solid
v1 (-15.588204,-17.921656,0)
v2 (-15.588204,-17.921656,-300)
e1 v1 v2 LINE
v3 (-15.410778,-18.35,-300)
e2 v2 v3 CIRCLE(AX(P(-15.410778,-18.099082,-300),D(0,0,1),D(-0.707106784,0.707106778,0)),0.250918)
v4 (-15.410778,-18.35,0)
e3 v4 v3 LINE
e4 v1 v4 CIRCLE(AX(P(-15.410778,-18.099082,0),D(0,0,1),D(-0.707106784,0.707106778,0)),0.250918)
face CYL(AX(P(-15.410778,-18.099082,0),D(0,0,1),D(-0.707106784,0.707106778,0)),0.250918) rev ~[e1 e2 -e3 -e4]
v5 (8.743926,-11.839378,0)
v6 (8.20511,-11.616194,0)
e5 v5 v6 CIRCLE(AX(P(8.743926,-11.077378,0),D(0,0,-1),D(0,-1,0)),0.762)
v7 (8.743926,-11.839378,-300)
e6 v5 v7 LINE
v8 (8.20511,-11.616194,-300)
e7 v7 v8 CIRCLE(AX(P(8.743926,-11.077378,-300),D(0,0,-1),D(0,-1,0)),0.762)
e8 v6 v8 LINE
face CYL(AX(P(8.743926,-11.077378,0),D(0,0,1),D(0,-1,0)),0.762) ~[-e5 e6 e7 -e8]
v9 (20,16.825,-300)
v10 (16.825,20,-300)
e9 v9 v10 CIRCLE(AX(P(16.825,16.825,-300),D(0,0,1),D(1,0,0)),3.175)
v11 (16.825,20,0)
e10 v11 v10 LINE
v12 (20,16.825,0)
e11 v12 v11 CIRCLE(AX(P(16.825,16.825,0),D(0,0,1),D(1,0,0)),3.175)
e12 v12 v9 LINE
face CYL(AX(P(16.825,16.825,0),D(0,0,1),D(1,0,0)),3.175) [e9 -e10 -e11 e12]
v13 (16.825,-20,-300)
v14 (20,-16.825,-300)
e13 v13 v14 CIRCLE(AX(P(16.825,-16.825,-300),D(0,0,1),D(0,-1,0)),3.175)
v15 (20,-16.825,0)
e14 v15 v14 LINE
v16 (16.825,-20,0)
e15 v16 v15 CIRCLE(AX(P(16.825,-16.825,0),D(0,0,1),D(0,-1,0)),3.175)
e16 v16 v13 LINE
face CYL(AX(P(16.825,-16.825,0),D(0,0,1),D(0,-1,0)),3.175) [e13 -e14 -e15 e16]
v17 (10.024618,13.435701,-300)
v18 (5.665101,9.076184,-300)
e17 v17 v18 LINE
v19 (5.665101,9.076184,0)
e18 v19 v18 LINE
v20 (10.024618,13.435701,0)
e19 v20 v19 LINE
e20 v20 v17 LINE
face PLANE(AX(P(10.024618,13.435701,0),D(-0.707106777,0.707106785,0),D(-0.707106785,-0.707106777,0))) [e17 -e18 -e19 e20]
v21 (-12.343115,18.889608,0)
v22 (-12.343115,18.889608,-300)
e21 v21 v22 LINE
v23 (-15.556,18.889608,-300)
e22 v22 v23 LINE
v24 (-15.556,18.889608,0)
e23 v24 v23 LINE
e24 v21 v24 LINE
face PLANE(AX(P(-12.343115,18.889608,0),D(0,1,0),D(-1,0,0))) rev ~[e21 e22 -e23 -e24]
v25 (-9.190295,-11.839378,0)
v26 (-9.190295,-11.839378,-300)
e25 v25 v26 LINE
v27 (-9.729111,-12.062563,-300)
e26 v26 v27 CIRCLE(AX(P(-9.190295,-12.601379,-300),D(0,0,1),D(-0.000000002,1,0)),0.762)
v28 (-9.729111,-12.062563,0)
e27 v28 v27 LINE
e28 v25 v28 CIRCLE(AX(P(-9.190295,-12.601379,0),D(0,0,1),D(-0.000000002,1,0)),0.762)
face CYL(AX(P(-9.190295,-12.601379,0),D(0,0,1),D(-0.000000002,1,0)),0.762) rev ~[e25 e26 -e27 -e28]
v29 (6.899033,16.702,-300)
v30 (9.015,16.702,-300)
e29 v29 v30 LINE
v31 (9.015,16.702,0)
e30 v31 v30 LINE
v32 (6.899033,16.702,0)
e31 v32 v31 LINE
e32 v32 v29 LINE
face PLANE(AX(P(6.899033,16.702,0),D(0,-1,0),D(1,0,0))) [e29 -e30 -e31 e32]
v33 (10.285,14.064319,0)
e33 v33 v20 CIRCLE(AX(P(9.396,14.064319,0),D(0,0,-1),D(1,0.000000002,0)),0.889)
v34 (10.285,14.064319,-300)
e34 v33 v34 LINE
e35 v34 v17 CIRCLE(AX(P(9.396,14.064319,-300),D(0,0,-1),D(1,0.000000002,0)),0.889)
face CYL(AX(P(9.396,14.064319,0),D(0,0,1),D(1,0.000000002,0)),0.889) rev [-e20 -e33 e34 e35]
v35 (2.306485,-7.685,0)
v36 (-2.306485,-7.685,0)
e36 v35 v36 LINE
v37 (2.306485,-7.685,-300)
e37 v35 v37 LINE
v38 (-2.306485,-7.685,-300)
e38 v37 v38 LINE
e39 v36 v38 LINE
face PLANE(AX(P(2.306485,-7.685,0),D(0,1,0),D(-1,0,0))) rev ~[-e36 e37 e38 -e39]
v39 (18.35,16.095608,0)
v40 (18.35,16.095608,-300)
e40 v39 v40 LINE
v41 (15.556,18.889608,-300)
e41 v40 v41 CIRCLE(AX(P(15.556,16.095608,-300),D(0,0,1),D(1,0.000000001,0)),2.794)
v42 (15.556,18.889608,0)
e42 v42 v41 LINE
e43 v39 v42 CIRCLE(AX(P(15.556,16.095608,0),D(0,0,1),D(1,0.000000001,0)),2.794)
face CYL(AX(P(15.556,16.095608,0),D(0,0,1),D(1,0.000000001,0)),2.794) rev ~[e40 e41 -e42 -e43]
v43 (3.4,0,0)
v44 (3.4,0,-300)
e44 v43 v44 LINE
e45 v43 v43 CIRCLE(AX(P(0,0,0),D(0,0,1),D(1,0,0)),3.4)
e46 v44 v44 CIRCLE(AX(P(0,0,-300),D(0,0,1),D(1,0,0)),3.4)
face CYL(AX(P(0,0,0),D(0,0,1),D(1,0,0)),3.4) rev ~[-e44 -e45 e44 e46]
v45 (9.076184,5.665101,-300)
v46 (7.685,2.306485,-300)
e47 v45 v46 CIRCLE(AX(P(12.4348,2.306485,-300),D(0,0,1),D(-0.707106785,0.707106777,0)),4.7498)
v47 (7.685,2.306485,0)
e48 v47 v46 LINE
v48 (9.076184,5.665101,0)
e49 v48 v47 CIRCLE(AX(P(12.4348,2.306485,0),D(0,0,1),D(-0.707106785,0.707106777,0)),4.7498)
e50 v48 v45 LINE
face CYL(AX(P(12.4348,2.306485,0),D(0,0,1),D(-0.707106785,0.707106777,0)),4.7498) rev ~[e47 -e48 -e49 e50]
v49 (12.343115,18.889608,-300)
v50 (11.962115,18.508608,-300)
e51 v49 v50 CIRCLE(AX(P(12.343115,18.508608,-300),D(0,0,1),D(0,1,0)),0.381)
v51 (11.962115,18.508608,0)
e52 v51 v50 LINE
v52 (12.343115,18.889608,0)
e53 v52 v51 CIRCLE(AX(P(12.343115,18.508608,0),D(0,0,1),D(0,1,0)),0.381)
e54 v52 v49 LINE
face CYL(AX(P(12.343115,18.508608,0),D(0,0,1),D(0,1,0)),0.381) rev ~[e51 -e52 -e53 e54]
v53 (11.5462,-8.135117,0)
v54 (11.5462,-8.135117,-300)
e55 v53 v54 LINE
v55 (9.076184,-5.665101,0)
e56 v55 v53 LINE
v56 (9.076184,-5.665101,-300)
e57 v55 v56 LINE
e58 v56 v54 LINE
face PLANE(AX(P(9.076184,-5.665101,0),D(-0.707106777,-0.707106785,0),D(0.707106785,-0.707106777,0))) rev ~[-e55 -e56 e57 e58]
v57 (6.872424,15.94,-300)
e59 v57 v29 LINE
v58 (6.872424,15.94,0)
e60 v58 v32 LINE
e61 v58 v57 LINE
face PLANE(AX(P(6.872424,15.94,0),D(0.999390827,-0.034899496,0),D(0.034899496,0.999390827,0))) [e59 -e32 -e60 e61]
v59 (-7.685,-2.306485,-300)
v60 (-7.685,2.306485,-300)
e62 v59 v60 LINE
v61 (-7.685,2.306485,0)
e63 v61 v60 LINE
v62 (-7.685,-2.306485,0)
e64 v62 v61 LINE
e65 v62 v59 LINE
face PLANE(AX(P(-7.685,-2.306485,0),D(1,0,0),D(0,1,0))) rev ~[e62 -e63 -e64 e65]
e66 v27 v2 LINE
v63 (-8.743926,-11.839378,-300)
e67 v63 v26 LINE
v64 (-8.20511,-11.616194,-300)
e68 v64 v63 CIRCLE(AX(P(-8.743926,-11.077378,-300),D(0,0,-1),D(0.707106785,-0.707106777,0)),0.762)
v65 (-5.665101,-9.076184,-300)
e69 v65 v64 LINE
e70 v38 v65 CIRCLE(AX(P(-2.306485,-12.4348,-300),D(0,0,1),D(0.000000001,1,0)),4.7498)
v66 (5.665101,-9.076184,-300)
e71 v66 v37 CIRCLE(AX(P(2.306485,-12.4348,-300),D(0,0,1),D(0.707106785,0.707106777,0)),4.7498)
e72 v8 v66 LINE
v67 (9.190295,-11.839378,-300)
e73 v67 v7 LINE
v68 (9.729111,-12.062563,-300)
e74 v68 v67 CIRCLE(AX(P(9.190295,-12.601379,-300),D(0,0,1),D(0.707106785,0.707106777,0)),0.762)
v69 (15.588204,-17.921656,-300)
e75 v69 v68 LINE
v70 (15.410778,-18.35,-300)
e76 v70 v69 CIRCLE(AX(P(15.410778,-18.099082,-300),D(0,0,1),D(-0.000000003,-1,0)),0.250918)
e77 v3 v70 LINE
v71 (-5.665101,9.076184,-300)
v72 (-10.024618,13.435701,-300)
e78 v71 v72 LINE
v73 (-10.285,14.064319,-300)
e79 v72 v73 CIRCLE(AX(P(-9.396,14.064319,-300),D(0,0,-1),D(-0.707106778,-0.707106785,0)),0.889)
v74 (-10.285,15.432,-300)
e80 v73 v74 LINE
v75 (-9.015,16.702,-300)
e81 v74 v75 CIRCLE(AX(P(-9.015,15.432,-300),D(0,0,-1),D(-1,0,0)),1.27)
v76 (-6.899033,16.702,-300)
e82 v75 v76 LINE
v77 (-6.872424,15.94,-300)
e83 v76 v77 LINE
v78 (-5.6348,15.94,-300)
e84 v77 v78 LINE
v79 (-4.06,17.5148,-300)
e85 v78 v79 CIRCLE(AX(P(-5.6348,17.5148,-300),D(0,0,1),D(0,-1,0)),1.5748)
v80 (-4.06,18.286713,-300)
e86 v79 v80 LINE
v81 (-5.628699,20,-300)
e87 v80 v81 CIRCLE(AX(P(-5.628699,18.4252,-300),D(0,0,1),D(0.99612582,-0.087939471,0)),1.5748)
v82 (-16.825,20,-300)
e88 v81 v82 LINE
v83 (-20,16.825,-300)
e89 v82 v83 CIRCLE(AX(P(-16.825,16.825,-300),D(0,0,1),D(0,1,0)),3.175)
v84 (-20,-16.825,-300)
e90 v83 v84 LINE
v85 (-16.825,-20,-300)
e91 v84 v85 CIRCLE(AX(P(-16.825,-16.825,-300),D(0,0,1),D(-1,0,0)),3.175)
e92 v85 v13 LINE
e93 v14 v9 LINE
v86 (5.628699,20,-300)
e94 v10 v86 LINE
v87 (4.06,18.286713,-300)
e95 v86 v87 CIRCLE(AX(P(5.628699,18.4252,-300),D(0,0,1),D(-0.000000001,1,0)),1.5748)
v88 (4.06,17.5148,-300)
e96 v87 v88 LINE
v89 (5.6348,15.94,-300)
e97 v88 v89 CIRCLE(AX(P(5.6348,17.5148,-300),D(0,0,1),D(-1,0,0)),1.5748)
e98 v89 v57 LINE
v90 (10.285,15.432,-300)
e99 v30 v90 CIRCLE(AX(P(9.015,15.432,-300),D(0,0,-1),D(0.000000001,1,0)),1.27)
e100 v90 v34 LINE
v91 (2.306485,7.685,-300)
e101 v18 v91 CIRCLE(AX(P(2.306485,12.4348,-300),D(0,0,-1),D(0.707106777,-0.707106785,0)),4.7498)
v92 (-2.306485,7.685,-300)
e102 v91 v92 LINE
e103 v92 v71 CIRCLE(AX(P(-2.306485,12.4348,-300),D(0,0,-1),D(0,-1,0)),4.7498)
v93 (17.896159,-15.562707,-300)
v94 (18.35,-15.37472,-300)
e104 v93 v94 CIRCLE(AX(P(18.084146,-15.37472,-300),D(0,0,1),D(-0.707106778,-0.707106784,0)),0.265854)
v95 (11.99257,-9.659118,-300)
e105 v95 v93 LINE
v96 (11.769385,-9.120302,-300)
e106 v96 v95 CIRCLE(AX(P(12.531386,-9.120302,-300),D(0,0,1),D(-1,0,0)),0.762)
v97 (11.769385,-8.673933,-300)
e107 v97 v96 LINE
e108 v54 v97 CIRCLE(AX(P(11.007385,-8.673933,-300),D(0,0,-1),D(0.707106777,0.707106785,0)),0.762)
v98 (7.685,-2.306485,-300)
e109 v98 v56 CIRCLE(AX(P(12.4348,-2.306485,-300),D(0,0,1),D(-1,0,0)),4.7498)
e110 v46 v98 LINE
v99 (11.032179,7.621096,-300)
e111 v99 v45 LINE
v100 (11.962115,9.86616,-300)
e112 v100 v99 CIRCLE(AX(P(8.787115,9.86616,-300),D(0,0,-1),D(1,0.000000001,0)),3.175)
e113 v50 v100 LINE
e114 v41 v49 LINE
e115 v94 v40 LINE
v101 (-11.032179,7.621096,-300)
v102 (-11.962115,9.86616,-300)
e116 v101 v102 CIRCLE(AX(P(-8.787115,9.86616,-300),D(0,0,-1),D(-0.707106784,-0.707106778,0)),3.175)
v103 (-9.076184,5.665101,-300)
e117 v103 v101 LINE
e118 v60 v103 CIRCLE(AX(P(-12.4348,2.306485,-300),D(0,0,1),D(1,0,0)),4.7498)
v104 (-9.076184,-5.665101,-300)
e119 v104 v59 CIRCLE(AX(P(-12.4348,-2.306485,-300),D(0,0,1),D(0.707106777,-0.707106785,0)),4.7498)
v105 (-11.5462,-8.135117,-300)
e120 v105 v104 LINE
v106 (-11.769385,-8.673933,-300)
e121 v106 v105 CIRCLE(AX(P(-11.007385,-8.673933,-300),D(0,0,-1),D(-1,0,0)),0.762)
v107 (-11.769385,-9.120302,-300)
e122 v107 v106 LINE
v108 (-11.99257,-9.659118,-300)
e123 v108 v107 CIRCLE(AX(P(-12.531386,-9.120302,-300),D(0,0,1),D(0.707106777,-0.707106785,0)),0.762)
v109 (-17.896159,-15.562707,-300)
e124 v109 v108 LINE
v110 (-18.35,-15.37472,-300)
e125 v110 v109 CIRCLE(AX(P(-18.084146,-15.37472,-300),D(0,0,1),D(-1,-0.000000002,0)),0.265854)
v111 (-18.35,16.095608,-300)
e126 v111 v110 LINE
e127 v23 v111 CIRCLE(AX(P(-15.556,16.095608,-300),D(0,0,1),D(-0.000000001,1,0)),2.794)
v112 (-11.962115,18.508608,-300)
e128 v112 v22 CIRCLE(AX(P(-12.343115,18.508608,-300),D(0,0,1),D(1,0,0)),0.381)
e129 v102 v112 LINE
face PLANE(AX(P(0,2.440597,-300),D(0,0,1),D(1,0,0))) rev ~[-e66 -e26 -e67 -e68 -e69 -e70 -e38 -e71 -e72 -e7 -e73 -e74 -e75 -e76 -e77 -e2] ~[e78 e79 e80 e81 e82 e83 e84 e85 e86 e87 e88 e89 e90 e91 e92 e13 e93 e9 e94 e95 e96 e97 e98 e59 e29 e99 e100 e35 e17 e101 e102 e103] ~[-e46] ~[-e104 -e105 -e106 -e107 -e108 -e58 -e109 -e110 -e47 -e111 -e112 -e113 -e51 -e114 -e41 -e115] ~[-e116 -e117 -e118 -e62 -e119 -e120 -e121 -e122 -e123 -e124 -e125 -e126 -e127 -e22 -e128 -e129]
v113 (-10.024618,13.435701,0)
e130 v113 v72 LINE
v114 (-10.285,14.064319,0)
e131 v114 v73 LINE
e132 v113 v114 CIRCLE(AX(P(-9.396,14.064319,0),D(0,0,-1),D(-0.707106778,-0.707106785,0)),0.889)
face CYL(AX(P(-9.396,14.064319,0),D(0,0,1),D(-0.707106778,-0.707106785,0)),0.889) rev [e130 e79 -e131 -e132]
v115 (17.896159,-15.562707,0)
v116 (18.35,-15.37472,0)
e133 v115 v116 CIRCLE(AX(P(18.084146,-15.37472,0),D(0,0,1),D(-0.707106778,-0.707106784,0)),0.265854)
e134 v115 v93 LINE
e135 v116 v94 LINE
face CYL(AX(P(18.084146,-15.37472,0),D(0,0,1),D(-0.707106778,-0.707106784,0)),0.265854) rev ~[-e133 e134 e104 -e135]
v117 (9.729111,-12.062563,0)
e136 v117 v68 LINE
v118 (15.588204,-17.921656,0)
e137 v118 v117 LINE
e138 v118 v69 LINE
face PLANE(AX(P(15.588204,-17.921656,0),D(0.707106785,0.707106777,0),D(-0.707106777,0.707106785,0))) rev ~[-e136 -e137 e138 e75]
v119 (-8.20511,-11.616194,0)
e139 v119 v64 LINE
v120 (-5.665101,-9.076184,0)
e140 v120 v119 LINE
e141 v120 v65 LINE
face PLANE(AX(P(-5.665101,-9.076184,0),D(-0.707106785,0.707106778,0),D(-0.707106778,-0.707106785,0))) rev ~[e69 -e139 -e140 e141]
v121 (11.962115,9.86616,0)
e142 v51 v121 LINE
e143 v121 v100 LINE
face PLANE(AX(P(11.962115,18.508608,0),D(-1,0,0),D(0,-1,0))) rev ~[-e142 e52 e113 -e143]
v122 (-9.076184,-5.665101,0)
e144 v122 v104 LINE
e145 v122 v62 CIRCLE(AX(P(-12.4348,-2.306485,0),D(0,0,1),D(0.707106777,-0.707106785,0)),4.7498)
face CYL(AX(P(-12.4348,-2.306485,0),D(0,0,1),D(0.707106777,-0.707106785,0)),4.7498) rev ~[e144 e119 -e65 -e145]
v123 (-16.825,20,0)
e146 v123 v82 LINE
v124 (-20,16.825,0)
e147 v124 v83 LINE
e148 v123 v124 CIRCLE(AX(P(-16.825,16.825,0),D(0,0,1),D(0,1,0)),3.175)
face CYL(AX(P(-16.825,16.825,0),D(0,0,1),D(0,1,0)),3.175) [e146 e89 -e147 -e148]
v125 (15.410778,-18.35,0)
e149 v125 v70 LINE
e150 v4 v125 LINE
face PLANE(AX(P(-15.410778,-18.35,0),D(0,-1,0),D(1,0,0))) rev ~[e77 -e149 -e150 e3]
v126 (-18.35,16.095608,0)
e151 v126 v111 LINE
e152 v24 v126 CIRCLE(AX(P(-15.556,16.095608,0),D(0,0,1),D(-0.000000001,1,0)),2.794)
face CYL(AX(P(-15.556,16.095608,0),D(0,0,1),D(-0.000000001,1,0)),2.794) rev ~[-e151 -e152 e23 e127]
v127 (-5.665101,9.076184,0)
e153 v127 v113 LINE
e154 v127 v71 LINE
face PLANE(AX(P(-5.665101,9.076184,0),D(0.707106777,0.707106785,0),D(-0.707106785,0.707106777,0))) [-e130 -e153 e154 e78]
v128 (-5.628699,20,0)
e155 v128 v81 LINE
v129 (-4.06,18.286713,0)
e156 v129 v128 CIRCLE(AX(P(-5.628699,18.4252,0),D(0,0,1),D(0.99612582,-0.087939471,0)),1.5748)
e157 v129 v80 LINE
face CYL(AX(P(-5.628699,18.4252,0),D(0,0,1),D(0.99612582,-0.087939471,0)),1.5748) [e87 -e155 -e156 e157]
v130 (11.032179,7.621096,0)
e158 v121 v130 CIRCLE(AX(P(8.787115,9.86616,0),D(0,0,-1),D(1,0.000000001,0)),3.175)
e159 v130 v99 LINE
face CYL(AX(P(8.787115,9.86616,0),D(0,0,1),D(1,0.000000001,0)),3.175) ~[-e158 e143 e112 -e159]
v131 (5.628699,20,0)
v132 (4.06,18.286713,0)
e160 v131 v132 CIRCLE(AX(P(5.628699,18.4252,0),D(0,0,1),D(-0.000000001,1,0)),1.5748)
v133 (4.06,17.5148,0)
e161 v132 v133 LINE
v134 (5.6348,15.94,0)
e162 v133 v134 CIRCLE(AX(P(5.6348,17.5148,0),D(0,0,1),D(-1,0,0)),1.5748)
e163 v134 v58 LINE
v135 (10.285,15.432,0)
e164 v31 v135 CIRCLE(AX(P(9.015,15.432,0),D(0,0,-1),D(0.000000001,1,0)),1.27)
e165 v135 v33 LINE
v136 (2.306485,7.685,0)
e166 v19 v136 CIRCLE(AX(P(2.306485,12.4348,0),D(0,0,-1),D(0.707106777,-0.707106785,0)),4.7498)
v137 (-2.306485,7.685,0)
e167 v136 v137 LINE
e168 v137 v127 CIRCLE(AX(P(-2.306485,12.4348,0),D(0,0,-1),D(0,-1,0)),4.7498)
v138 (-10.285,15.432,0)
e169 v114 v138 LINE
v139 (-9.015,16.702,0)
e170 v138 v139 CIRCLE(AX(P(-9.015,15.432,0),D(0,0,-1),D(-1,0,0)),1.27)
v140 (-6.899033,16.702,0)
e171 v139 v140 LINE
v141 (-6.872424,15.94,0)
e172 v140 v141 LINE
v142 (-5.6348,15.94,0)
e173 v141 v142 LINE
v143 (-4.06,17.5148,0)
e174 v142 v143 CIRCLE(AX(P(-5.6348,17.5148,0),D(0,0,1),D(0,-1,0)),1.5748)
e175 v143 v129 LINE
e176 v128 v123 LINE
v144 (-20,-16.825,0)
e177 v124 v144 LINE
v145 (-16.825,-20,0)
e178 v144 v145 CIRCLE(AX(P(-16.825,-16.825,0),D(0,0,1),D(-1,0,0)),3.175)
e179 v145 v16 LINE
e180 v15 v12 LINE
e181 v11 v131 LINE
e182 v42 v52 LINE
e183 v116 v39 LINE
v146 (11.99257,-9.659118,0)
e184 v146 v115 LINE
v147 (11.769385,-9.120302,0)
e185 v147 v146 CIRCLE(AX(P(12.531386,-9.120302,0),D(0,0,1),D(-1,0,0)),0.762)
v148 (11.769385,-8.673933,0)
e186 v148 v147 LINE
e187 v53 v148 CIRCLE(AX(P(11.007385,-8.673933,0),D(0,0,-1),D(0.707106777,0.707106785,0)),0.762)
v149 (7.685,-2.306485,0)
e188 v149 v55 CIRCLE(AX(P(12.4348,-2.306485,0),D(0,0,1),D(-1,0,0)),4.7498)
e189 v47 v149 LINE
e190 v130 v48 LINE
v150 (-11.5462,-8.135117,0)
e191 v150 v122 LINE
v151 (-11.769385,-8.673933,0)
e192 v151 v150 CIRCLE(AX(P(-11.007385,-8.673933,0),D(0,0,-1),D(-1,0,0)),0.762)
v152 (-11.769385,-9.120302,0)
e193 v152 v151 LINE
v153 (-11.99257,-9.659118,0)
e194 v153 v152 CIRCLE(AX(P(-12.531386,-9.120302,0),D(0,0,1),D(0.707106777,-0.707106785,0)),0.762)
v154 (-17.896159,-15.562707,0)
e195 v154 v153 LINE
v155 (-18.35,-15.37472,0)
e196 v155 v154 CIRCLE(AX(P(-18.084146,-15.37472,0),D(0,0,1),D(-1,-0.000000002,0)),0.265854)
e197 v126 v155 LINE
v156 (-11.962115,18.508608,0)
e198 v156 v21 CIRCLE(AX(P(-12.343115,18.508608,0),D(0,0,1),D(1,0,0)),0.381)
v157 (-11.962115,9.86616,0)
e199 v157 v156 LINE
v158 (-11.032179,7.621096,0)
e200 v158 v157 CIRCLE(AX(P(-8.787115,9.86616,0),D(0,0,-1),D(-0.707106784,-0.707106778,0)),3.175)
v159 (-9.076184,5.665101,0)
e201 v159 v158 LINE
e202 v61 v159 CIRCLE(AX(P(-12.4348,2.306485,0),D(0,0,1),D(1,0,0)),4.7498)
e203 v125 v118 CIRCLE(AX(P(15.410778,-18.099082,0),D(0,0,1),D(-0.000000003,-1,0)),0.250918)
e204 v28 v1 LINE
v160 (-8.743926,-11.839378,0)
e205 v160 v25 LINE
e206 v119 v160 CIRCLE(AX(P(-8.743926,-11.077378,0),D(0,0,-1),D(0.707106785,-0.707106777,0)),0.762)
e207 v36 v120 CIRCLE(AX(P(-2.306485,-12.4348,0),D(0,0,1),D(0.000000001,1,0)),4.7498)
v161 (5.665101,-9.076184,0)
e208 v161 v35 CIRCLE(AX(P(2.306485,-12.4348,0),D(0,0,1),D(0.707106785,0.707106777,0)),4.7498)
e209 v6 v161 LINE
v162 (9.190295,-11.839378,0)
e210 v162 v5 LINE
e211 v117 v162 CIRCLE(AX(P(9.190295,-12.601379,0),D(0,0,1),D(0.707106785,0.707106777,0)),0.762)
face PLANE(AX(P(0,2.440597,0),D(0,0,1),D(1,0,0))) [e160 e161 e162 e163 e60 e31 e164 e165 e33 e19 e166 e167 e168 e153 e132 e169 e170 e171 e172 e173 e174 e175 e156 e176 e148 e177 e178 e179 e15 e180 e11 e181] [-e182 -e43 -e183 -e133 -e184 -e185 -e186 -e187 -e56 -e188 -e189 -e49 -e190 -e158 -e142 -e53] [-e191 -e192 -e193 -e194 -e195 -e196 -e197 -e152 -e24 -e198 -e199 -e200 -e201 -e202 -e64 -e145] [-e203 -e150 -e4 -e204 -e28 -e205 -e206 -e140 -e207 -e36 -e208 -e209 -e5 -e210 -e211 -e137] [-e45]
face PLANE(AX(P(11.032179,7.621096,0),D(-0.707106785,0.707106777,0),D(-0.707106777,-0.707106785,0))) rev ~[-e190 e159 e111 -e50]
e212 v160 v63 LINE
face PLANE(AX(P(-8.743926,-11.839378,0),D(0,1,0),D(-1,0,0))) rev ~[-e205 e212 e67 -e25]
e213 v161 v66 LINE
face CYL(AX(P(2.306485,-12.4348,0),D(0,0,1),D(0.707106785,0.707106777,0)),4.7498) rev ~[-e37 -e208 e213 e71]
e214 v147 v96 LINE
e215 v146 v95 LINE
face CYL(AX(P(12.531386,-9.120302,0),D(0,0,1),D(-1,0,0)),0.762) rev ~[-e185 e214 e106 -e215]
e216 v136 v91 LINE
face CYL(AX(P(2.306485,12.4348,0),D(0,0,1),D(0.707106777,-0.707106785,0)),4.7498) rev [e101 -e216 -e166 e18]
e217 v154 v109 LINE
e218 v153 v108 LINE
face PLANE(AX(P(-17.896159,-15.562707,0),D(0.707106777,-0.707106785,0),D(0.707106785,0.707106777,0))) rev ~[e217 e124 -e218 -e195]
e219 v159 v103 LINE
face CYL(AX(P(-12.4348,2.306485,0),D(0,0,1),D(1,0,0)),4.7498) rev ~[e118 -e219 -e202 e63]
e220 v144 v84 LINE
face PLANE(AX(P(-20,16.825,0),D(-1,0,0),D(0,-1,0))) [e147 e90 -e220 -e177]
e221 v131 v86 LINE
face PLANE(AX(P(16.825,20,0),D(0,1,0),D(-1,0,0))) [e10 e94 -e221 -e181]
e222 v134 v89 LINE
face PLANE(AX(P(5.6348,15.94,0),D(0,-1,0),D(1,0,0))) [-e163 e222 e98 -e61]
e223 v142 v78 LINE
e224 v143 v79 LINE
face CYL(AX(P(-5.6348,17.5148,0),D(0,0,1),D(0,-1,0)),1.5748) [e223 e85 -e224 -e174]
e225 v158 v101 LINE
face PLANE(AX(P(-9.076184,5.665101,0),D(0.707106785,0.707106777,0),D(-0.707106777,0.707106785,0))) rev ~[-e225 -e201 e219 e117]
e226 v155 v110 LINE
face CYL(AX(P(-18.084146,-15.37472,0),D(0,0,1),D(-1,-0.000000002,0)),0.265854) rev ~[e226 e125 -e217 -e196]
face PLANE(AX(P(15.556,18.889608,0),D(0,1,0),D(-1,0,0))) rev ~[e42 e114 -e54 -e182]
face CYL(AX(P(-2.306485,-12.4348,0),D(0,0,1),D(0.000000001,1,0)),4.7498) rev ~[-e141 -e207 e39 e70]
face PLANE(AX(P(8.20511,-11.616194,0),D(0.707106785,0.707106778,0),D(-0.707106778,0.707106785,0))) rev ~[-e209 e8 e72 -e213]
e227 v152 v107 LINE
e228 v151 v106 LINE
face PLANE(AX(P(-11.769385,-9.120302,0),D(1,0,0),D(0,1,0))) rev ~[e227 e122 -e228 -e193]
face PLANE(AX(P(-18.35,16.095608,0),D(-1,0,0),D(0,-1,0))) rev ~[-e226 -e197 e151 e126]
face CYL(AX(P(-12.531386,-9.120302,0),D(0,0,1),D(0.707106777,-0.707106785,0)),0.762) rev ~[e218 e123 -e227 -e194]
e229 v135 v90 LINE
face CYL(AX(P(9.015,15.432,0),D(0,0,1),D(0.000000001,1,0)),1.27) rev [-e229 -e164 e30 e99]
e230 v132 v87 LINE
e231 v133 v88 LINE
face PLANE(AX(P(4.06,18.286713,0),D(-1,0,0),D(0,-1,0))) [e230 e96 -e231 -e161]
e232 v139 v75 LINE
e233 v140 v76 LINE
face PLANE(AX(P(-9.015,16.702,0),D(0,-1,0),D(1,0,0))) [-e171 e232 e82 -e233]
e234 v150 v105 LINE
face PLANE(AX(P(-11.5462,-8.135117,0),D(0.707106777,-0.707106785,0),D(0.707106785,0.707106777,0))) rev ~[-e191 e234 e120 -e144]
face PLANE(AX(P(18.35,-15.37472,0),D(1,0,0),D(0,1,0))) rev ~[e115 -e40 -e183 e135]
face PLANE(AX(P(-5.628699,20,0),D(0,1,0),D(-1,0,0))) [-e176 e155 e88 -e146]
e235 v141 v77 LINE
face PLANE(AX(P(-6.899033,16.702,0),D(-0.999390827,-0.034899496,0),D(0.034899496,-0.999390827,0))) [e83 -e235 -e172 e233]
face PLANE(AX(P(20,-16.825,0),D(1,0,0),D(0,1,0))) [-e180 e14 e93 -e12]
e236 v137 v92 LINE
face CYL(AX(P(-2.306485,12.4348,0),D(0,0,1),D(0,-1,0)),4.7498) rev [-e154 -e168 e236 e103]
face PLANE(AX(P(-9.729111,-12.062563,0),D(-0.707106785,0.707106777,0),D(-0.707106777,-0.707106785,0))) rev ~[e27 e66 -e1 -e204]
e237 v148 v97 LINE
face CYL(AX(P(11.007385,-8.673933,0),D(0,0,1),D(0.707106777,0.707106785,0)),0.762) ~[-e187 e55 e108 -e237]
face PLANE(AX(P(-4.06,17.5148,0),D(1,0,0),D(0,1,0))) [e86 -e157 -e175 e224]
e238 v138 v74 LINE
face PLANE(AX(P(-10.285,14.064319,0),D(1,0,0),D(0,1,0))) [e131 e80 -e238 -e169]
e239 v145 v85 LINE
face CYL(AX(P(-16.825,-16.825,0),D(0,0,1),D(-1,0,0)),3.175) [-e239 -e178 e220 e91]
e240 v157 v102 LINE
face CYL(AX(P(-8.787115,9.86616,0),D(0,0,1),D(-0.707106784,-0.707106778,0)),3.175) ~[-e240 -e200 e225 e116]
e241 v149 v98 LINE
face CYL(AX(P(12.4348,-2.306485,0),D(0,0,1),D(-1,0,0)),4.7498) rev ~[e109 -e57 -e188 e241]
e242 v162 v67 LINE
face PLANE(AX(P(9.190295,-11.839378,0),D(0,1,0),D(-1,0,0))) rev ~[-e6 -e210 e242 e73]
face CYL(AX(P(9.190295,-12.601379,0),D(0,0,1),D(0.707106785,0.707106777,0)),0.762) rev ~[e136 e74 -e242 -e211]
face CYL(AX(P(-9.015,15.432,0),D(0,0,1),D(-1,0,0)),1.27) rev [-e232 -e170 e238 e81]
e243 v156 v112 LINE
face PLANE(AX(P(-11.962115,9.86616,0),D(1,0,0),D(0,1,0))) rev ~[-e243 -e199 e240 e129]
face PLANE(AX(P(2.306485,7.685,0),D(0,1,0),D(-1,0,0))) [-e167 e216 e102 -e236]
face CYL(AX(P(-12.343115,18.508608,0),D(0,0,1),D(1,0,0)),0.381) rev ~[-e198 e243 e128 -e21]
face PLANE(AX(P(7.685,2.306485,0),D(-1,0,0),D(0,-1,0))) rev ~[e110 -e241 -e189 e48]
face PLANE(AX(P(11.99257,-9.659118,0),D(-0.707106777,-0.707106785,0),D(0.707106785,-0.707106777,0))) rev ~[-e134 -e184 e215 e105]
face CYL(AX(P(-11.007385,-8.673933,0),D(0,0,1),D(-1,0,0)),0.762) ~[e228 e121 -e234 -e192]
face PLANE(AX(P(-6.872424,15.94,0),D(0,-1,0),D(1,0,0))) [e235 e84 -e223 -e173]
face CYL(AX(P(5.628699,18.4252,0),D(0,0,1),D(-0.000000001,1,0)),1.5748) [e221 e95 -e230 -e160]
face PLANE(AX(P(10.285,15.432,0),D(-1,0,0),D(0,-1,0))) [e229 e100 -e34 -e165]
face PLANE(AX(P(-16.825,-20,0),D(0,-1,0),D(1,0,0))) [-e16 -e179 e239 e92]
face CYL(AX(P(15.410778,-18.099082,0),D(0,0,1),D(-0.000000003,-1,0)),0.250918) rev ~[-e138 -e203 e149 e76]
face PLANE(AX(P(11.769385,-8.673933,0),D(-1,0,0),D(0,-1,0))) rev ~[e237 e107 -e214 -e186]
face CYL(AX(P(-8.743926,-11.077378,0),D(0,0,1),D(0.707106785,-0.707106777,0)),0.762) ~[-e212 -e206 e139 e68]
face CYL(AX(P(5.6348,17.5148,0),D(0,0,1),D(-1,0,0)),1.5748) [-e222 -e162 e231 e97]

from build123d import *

# Parameters (mm, degrees)
SKETCH1_R      = 3.4
EXTRUDE1_DEPTH = 300


with BuildPart() as part:
    # Sketch1 → Extrude1 (new body)
    with BuildSketch(Plane.XY):
        with BuildLine():
            Line((16.824999974, 19.999999706), (5.628698889, 19.999999706))
            ThreePointArc((5.628698889, 19.999999706), (4.46721611, 19.488662348), (4.059999948, 18.286712625))
            Line((4.059999948, 18.286712625), (4.059999948, 17.5148))
            ThreePointArc((4.059999948, 17.5148), (4.521248189, 16.401248241), (5.634799948, 15.94))
            Line((5.634799948, 15.94), (6.872423693, 15.94))
            Line((6.872423693, 15.94), (6.899033319, 16.702000002))
            Line((6.899033319, 16.702000002), (9.014999977, 16.702000002))
            ThreePointArc((9.014999977, 16.702000002), (9.913025591, 16.330025613), (10.28499998, 15.431999998))
            Line((10.28499998, 15.431999998), (10.28499998, 14.064318961))
            ThreePointArc((10.28499998, 14.064318961), (10.217328883, 13.724113383), (10.024617903, 13.435701022))
            Line((10.024617903, 13.435701022), (5.665101027, 9.076184193))
            ThreePointArc((5.665101027, 9.076184193), (4.124155011, 8.046556992), (2.306485256, 7.685))
            Line((2.306485256, 7.685), (-2.306485308, 7.685))
            ThreePointArc((-2.306485308, 7.685), (-4.124155063, 8.046556992), (-5.665101079, 9.076184193))
            Line((-5.665101079, 9.076184193), (-10.024617955, 13.435701022))
            ThreePointArc((-10.024617955, 13.435701022), (-10.217328935, 13.724113383), (-10.285000032, 14.064318961))
            Line((-10.285000032, 14.064318961), (-10.285000032, 15.431999998))
            ThreePointArc((-10.285000032, 15.431999998), (-9.913025643, 16.330025613), (-9.015000029, 16.702000002))
            Line((-9.015000029, 16.702000002), (-6.899033371, 16.702000002))
            Line((-6.899033371, 16.702000002), (-6.872423745, 15.94))
            Line((-6.872423745, 15.94), (-5.6348, 15.94))
            ThreePointArc((-5.6348, 15.94), (-4.521248241, 16.401248241), (-4.06, 17.5148))
            Line((-4.06, 17.5148), (-4.06, 18.286712625))
            ThreePointArc((-4.06, 18.286712625), (-4.467216162, 19.488662348), (-5.628698941, 19.999999706))
            Line((-5.628698941, 19.999999706), (-16.825000026, 19.999999706))
            ThreePointArc((-16.825000026, 19.999999706), (-19.070064069, 19.070063731), (-20.000000044, 16.824999688))
            Line((-20.000000044, 16.824999688), (-20.000000044, -16.825000312))
            ThreePointArc((-20.000000044, -16.825000312), (-19.070064069, -19.070064355), (-16.825000026, -20.00000033))
            Line((-16.825000026, -20.00000033), (16.824999974, -20.00000033))
            ThreePointArc((16.824999974, -20.00000033), (19.070064017, -19.070064355), (19.999999992, -16.825000312))
            Line((19.999999992, -16.825000312), (19.999999992, 16.824999688))
            ThreePointArc((19.999999992, 16.824999688), (19.070064017, 19.070063731), (16.824999974, 19.999999706))
        make_face()
        Circle(SKETCH1_R, mode=Mode.SUBTRACT)
        with BuildLine():
            Line((-7.685000123, -2.306485221), (-7.685000123, 2.306485342))
            ThreePointArc((-7.685000123, 2.306485342), (-8.046557115, 4.124155098), (-9.076184316, 5.665101114))
            Line((-9.076184316, 5.665101114), (-11.032179452, 7.621096271))
            ThreePointArc((-11.032179452, 7.621096271), (-11.720432933, 8.651140405), (-11.962115415, 9.866160302))
            Line((-11.962115415, 9.866160302), (-11.962115415, 18.508608264))
            ThreePointArc((-11.962115415, 18.508608264), (-12.073707729, 18.778015942), (-12.343115407, 18.889608256))
            Line((-12.343115407, 18.889608256), (-15.556000031, 18.889608256))
            ThreePointArc((-15.556000031, 18.889608256), (-17.53165638, 18.071264601), (-18.350000035, 16.095608252))
            Line((-18.350000035, 16.095608252), (-18.350000035, -15.374719595))
            ThreePointArc((-18.350000035, -15.374719595), (-18.185883968, -15.620336647), (-17.8961589, -15.562706749))
            Line((-17.8961589, -15.562706749), (-11.992569935, -9.659117847))
            ThreePointArc((-11.992569935, -9.659117847), (-11.827389014, -9.411907131), (-11.769385188, -9.120302208))
            Line((-11.769385188, -9.120302208), (-11.769385188, -8.67393273))
            ThreePointArc((-11.769385188, -8.67393273), (-11.711381362, -8.382327807), (-11.546200441, -8.135117091))
            Line((-11.546200441, -8.135117091), (-9.076184352, -5.665101029))
            ThreePointArc((-9.076184352, -5.665101029), (-8.046557124, -4.124155), (-7.685000123, -2.306485221))
        make_face(mode=Mode.SUBTRACT)
        with BuildLine():
            Line((11.769385136, -8.67393273), (11.769385136, -9.120302208))
            ThreePointArc((11.769385136, -9.120302208), (11.827388962, -9.411907131), (11.992569883, -9.659117847))
            Line((11.992569883, -9.659117847), (17.896158848, -15.562706749))
            ThreePointArc((17.896158848, -15.562706749), (18.185883916, -15.620336647), (18.349999983, -15.374719595))
            Line((18.349999983, -15.374719595), (18.349999983, 16.095608252))
            ThreePointArc((18.349999983, 16.095608252), (17.531656328, 18.071264601), (15.555999979, 18.889608256))
            Line((15.555999979, 18.889608256), (12.343115355, 18.889608256))
            ThreePointArc((12.343115355, 18.889608256), (12.073707677, 18.778015942), (11.962115363, 18.508608264))
            Line((11.962115363, 18.508608264), (11.962115363, 9.866160302))
            ThreePointArc((11.962115363, 9.866160302), (11.720432881, 8.651140405), (11.0321794, 7.621096271))
            Line((11.0321794, 7.621096271), (9.076184264, 5.665101114))
            ThreePointArc((9.076184264, 5.665101114), (8.046557063, 4.124155098), (7.685000071, 2.306485342))
            Line((7.685000071, 2.306485342), (7.685000071, -2.306485221))
            ThreePointArc((7.685000071, -2.306485221), (8.046557072, -4.124155), (9.0761843, -5.665101029))
            Line((9.0761843, -5.665101029), (11.546200389, -8.135117091))
            ThreePointArc((11.546200389, -8.135117091), (11.71138131, -8.382327807), (11.769385136, -8.67393273))
        make_face(mode=Mode.SUBTRACT)
        with BuildLine():
            Line((15.588203795, -17.921655982), (9.729110898, -12.062563022))
            ThreePointArc((9.729110898, -12.062563022), (9.481900182, -11.897382101), (9.190295259, -11.839378275))
            Line((9.190295259, -11.839378275), (8.743925781, -11.839378275))
            ThreePointArc((8.743925781, -11.839378275), (8.452320858, -11.781374449), (8.205110142, -11.616193528))
            Line((8.205110142, -11.616193528), (5.665101063, -9.076184423))
            ThreePointArc((5.665101063, -9.076184423), (4.124155035, -8.046557195), (2.306485256, -7.685000194))
            Line((2.306485256, -7.685000194), (-2.306485308, -7.685000194))
            ThreePointArc((-2.306485308, -7.685000194), (-4.124155087, -8.046557195), (-5.665101115, -9.076184423))
            Line((-5.665101115, -9.076184423), (-8.205110194, -11.616193528))
            ThreePointArc((-8.205110194, -11.616193528), (-8.45232091, -11.781374449), (-8.743925833, -11.839378275))
            Line((-8.743925833, -11.839378275), (-9.190295311, -11.839378275))
            ThreePointArc((-9.190295311, -11.839378275), (-9.481900233, -11.897382101), (-9.72911095, -12.062563022))
            Line((-9.72911095, -12.062563022), (-15.588203847, -17.921655982))
            ThreePointArc((-15.588203847, -17.921655982), (-15.64259606, -18.195104108), (-15.410777932, -18.350000028))
            Line((-15.410777932, -18.350000028), (15.41077788, -18.350000028))
            ThreePointArc((15.41077788, -18.350000028), (15.642596008, -18.195104108), (15.588203795, -17.921655982))
        make_face(mode=Mode.SUBTRACT)
    extrude(amount=-EXTRUDE1_DEPTH)


solid = part.part
